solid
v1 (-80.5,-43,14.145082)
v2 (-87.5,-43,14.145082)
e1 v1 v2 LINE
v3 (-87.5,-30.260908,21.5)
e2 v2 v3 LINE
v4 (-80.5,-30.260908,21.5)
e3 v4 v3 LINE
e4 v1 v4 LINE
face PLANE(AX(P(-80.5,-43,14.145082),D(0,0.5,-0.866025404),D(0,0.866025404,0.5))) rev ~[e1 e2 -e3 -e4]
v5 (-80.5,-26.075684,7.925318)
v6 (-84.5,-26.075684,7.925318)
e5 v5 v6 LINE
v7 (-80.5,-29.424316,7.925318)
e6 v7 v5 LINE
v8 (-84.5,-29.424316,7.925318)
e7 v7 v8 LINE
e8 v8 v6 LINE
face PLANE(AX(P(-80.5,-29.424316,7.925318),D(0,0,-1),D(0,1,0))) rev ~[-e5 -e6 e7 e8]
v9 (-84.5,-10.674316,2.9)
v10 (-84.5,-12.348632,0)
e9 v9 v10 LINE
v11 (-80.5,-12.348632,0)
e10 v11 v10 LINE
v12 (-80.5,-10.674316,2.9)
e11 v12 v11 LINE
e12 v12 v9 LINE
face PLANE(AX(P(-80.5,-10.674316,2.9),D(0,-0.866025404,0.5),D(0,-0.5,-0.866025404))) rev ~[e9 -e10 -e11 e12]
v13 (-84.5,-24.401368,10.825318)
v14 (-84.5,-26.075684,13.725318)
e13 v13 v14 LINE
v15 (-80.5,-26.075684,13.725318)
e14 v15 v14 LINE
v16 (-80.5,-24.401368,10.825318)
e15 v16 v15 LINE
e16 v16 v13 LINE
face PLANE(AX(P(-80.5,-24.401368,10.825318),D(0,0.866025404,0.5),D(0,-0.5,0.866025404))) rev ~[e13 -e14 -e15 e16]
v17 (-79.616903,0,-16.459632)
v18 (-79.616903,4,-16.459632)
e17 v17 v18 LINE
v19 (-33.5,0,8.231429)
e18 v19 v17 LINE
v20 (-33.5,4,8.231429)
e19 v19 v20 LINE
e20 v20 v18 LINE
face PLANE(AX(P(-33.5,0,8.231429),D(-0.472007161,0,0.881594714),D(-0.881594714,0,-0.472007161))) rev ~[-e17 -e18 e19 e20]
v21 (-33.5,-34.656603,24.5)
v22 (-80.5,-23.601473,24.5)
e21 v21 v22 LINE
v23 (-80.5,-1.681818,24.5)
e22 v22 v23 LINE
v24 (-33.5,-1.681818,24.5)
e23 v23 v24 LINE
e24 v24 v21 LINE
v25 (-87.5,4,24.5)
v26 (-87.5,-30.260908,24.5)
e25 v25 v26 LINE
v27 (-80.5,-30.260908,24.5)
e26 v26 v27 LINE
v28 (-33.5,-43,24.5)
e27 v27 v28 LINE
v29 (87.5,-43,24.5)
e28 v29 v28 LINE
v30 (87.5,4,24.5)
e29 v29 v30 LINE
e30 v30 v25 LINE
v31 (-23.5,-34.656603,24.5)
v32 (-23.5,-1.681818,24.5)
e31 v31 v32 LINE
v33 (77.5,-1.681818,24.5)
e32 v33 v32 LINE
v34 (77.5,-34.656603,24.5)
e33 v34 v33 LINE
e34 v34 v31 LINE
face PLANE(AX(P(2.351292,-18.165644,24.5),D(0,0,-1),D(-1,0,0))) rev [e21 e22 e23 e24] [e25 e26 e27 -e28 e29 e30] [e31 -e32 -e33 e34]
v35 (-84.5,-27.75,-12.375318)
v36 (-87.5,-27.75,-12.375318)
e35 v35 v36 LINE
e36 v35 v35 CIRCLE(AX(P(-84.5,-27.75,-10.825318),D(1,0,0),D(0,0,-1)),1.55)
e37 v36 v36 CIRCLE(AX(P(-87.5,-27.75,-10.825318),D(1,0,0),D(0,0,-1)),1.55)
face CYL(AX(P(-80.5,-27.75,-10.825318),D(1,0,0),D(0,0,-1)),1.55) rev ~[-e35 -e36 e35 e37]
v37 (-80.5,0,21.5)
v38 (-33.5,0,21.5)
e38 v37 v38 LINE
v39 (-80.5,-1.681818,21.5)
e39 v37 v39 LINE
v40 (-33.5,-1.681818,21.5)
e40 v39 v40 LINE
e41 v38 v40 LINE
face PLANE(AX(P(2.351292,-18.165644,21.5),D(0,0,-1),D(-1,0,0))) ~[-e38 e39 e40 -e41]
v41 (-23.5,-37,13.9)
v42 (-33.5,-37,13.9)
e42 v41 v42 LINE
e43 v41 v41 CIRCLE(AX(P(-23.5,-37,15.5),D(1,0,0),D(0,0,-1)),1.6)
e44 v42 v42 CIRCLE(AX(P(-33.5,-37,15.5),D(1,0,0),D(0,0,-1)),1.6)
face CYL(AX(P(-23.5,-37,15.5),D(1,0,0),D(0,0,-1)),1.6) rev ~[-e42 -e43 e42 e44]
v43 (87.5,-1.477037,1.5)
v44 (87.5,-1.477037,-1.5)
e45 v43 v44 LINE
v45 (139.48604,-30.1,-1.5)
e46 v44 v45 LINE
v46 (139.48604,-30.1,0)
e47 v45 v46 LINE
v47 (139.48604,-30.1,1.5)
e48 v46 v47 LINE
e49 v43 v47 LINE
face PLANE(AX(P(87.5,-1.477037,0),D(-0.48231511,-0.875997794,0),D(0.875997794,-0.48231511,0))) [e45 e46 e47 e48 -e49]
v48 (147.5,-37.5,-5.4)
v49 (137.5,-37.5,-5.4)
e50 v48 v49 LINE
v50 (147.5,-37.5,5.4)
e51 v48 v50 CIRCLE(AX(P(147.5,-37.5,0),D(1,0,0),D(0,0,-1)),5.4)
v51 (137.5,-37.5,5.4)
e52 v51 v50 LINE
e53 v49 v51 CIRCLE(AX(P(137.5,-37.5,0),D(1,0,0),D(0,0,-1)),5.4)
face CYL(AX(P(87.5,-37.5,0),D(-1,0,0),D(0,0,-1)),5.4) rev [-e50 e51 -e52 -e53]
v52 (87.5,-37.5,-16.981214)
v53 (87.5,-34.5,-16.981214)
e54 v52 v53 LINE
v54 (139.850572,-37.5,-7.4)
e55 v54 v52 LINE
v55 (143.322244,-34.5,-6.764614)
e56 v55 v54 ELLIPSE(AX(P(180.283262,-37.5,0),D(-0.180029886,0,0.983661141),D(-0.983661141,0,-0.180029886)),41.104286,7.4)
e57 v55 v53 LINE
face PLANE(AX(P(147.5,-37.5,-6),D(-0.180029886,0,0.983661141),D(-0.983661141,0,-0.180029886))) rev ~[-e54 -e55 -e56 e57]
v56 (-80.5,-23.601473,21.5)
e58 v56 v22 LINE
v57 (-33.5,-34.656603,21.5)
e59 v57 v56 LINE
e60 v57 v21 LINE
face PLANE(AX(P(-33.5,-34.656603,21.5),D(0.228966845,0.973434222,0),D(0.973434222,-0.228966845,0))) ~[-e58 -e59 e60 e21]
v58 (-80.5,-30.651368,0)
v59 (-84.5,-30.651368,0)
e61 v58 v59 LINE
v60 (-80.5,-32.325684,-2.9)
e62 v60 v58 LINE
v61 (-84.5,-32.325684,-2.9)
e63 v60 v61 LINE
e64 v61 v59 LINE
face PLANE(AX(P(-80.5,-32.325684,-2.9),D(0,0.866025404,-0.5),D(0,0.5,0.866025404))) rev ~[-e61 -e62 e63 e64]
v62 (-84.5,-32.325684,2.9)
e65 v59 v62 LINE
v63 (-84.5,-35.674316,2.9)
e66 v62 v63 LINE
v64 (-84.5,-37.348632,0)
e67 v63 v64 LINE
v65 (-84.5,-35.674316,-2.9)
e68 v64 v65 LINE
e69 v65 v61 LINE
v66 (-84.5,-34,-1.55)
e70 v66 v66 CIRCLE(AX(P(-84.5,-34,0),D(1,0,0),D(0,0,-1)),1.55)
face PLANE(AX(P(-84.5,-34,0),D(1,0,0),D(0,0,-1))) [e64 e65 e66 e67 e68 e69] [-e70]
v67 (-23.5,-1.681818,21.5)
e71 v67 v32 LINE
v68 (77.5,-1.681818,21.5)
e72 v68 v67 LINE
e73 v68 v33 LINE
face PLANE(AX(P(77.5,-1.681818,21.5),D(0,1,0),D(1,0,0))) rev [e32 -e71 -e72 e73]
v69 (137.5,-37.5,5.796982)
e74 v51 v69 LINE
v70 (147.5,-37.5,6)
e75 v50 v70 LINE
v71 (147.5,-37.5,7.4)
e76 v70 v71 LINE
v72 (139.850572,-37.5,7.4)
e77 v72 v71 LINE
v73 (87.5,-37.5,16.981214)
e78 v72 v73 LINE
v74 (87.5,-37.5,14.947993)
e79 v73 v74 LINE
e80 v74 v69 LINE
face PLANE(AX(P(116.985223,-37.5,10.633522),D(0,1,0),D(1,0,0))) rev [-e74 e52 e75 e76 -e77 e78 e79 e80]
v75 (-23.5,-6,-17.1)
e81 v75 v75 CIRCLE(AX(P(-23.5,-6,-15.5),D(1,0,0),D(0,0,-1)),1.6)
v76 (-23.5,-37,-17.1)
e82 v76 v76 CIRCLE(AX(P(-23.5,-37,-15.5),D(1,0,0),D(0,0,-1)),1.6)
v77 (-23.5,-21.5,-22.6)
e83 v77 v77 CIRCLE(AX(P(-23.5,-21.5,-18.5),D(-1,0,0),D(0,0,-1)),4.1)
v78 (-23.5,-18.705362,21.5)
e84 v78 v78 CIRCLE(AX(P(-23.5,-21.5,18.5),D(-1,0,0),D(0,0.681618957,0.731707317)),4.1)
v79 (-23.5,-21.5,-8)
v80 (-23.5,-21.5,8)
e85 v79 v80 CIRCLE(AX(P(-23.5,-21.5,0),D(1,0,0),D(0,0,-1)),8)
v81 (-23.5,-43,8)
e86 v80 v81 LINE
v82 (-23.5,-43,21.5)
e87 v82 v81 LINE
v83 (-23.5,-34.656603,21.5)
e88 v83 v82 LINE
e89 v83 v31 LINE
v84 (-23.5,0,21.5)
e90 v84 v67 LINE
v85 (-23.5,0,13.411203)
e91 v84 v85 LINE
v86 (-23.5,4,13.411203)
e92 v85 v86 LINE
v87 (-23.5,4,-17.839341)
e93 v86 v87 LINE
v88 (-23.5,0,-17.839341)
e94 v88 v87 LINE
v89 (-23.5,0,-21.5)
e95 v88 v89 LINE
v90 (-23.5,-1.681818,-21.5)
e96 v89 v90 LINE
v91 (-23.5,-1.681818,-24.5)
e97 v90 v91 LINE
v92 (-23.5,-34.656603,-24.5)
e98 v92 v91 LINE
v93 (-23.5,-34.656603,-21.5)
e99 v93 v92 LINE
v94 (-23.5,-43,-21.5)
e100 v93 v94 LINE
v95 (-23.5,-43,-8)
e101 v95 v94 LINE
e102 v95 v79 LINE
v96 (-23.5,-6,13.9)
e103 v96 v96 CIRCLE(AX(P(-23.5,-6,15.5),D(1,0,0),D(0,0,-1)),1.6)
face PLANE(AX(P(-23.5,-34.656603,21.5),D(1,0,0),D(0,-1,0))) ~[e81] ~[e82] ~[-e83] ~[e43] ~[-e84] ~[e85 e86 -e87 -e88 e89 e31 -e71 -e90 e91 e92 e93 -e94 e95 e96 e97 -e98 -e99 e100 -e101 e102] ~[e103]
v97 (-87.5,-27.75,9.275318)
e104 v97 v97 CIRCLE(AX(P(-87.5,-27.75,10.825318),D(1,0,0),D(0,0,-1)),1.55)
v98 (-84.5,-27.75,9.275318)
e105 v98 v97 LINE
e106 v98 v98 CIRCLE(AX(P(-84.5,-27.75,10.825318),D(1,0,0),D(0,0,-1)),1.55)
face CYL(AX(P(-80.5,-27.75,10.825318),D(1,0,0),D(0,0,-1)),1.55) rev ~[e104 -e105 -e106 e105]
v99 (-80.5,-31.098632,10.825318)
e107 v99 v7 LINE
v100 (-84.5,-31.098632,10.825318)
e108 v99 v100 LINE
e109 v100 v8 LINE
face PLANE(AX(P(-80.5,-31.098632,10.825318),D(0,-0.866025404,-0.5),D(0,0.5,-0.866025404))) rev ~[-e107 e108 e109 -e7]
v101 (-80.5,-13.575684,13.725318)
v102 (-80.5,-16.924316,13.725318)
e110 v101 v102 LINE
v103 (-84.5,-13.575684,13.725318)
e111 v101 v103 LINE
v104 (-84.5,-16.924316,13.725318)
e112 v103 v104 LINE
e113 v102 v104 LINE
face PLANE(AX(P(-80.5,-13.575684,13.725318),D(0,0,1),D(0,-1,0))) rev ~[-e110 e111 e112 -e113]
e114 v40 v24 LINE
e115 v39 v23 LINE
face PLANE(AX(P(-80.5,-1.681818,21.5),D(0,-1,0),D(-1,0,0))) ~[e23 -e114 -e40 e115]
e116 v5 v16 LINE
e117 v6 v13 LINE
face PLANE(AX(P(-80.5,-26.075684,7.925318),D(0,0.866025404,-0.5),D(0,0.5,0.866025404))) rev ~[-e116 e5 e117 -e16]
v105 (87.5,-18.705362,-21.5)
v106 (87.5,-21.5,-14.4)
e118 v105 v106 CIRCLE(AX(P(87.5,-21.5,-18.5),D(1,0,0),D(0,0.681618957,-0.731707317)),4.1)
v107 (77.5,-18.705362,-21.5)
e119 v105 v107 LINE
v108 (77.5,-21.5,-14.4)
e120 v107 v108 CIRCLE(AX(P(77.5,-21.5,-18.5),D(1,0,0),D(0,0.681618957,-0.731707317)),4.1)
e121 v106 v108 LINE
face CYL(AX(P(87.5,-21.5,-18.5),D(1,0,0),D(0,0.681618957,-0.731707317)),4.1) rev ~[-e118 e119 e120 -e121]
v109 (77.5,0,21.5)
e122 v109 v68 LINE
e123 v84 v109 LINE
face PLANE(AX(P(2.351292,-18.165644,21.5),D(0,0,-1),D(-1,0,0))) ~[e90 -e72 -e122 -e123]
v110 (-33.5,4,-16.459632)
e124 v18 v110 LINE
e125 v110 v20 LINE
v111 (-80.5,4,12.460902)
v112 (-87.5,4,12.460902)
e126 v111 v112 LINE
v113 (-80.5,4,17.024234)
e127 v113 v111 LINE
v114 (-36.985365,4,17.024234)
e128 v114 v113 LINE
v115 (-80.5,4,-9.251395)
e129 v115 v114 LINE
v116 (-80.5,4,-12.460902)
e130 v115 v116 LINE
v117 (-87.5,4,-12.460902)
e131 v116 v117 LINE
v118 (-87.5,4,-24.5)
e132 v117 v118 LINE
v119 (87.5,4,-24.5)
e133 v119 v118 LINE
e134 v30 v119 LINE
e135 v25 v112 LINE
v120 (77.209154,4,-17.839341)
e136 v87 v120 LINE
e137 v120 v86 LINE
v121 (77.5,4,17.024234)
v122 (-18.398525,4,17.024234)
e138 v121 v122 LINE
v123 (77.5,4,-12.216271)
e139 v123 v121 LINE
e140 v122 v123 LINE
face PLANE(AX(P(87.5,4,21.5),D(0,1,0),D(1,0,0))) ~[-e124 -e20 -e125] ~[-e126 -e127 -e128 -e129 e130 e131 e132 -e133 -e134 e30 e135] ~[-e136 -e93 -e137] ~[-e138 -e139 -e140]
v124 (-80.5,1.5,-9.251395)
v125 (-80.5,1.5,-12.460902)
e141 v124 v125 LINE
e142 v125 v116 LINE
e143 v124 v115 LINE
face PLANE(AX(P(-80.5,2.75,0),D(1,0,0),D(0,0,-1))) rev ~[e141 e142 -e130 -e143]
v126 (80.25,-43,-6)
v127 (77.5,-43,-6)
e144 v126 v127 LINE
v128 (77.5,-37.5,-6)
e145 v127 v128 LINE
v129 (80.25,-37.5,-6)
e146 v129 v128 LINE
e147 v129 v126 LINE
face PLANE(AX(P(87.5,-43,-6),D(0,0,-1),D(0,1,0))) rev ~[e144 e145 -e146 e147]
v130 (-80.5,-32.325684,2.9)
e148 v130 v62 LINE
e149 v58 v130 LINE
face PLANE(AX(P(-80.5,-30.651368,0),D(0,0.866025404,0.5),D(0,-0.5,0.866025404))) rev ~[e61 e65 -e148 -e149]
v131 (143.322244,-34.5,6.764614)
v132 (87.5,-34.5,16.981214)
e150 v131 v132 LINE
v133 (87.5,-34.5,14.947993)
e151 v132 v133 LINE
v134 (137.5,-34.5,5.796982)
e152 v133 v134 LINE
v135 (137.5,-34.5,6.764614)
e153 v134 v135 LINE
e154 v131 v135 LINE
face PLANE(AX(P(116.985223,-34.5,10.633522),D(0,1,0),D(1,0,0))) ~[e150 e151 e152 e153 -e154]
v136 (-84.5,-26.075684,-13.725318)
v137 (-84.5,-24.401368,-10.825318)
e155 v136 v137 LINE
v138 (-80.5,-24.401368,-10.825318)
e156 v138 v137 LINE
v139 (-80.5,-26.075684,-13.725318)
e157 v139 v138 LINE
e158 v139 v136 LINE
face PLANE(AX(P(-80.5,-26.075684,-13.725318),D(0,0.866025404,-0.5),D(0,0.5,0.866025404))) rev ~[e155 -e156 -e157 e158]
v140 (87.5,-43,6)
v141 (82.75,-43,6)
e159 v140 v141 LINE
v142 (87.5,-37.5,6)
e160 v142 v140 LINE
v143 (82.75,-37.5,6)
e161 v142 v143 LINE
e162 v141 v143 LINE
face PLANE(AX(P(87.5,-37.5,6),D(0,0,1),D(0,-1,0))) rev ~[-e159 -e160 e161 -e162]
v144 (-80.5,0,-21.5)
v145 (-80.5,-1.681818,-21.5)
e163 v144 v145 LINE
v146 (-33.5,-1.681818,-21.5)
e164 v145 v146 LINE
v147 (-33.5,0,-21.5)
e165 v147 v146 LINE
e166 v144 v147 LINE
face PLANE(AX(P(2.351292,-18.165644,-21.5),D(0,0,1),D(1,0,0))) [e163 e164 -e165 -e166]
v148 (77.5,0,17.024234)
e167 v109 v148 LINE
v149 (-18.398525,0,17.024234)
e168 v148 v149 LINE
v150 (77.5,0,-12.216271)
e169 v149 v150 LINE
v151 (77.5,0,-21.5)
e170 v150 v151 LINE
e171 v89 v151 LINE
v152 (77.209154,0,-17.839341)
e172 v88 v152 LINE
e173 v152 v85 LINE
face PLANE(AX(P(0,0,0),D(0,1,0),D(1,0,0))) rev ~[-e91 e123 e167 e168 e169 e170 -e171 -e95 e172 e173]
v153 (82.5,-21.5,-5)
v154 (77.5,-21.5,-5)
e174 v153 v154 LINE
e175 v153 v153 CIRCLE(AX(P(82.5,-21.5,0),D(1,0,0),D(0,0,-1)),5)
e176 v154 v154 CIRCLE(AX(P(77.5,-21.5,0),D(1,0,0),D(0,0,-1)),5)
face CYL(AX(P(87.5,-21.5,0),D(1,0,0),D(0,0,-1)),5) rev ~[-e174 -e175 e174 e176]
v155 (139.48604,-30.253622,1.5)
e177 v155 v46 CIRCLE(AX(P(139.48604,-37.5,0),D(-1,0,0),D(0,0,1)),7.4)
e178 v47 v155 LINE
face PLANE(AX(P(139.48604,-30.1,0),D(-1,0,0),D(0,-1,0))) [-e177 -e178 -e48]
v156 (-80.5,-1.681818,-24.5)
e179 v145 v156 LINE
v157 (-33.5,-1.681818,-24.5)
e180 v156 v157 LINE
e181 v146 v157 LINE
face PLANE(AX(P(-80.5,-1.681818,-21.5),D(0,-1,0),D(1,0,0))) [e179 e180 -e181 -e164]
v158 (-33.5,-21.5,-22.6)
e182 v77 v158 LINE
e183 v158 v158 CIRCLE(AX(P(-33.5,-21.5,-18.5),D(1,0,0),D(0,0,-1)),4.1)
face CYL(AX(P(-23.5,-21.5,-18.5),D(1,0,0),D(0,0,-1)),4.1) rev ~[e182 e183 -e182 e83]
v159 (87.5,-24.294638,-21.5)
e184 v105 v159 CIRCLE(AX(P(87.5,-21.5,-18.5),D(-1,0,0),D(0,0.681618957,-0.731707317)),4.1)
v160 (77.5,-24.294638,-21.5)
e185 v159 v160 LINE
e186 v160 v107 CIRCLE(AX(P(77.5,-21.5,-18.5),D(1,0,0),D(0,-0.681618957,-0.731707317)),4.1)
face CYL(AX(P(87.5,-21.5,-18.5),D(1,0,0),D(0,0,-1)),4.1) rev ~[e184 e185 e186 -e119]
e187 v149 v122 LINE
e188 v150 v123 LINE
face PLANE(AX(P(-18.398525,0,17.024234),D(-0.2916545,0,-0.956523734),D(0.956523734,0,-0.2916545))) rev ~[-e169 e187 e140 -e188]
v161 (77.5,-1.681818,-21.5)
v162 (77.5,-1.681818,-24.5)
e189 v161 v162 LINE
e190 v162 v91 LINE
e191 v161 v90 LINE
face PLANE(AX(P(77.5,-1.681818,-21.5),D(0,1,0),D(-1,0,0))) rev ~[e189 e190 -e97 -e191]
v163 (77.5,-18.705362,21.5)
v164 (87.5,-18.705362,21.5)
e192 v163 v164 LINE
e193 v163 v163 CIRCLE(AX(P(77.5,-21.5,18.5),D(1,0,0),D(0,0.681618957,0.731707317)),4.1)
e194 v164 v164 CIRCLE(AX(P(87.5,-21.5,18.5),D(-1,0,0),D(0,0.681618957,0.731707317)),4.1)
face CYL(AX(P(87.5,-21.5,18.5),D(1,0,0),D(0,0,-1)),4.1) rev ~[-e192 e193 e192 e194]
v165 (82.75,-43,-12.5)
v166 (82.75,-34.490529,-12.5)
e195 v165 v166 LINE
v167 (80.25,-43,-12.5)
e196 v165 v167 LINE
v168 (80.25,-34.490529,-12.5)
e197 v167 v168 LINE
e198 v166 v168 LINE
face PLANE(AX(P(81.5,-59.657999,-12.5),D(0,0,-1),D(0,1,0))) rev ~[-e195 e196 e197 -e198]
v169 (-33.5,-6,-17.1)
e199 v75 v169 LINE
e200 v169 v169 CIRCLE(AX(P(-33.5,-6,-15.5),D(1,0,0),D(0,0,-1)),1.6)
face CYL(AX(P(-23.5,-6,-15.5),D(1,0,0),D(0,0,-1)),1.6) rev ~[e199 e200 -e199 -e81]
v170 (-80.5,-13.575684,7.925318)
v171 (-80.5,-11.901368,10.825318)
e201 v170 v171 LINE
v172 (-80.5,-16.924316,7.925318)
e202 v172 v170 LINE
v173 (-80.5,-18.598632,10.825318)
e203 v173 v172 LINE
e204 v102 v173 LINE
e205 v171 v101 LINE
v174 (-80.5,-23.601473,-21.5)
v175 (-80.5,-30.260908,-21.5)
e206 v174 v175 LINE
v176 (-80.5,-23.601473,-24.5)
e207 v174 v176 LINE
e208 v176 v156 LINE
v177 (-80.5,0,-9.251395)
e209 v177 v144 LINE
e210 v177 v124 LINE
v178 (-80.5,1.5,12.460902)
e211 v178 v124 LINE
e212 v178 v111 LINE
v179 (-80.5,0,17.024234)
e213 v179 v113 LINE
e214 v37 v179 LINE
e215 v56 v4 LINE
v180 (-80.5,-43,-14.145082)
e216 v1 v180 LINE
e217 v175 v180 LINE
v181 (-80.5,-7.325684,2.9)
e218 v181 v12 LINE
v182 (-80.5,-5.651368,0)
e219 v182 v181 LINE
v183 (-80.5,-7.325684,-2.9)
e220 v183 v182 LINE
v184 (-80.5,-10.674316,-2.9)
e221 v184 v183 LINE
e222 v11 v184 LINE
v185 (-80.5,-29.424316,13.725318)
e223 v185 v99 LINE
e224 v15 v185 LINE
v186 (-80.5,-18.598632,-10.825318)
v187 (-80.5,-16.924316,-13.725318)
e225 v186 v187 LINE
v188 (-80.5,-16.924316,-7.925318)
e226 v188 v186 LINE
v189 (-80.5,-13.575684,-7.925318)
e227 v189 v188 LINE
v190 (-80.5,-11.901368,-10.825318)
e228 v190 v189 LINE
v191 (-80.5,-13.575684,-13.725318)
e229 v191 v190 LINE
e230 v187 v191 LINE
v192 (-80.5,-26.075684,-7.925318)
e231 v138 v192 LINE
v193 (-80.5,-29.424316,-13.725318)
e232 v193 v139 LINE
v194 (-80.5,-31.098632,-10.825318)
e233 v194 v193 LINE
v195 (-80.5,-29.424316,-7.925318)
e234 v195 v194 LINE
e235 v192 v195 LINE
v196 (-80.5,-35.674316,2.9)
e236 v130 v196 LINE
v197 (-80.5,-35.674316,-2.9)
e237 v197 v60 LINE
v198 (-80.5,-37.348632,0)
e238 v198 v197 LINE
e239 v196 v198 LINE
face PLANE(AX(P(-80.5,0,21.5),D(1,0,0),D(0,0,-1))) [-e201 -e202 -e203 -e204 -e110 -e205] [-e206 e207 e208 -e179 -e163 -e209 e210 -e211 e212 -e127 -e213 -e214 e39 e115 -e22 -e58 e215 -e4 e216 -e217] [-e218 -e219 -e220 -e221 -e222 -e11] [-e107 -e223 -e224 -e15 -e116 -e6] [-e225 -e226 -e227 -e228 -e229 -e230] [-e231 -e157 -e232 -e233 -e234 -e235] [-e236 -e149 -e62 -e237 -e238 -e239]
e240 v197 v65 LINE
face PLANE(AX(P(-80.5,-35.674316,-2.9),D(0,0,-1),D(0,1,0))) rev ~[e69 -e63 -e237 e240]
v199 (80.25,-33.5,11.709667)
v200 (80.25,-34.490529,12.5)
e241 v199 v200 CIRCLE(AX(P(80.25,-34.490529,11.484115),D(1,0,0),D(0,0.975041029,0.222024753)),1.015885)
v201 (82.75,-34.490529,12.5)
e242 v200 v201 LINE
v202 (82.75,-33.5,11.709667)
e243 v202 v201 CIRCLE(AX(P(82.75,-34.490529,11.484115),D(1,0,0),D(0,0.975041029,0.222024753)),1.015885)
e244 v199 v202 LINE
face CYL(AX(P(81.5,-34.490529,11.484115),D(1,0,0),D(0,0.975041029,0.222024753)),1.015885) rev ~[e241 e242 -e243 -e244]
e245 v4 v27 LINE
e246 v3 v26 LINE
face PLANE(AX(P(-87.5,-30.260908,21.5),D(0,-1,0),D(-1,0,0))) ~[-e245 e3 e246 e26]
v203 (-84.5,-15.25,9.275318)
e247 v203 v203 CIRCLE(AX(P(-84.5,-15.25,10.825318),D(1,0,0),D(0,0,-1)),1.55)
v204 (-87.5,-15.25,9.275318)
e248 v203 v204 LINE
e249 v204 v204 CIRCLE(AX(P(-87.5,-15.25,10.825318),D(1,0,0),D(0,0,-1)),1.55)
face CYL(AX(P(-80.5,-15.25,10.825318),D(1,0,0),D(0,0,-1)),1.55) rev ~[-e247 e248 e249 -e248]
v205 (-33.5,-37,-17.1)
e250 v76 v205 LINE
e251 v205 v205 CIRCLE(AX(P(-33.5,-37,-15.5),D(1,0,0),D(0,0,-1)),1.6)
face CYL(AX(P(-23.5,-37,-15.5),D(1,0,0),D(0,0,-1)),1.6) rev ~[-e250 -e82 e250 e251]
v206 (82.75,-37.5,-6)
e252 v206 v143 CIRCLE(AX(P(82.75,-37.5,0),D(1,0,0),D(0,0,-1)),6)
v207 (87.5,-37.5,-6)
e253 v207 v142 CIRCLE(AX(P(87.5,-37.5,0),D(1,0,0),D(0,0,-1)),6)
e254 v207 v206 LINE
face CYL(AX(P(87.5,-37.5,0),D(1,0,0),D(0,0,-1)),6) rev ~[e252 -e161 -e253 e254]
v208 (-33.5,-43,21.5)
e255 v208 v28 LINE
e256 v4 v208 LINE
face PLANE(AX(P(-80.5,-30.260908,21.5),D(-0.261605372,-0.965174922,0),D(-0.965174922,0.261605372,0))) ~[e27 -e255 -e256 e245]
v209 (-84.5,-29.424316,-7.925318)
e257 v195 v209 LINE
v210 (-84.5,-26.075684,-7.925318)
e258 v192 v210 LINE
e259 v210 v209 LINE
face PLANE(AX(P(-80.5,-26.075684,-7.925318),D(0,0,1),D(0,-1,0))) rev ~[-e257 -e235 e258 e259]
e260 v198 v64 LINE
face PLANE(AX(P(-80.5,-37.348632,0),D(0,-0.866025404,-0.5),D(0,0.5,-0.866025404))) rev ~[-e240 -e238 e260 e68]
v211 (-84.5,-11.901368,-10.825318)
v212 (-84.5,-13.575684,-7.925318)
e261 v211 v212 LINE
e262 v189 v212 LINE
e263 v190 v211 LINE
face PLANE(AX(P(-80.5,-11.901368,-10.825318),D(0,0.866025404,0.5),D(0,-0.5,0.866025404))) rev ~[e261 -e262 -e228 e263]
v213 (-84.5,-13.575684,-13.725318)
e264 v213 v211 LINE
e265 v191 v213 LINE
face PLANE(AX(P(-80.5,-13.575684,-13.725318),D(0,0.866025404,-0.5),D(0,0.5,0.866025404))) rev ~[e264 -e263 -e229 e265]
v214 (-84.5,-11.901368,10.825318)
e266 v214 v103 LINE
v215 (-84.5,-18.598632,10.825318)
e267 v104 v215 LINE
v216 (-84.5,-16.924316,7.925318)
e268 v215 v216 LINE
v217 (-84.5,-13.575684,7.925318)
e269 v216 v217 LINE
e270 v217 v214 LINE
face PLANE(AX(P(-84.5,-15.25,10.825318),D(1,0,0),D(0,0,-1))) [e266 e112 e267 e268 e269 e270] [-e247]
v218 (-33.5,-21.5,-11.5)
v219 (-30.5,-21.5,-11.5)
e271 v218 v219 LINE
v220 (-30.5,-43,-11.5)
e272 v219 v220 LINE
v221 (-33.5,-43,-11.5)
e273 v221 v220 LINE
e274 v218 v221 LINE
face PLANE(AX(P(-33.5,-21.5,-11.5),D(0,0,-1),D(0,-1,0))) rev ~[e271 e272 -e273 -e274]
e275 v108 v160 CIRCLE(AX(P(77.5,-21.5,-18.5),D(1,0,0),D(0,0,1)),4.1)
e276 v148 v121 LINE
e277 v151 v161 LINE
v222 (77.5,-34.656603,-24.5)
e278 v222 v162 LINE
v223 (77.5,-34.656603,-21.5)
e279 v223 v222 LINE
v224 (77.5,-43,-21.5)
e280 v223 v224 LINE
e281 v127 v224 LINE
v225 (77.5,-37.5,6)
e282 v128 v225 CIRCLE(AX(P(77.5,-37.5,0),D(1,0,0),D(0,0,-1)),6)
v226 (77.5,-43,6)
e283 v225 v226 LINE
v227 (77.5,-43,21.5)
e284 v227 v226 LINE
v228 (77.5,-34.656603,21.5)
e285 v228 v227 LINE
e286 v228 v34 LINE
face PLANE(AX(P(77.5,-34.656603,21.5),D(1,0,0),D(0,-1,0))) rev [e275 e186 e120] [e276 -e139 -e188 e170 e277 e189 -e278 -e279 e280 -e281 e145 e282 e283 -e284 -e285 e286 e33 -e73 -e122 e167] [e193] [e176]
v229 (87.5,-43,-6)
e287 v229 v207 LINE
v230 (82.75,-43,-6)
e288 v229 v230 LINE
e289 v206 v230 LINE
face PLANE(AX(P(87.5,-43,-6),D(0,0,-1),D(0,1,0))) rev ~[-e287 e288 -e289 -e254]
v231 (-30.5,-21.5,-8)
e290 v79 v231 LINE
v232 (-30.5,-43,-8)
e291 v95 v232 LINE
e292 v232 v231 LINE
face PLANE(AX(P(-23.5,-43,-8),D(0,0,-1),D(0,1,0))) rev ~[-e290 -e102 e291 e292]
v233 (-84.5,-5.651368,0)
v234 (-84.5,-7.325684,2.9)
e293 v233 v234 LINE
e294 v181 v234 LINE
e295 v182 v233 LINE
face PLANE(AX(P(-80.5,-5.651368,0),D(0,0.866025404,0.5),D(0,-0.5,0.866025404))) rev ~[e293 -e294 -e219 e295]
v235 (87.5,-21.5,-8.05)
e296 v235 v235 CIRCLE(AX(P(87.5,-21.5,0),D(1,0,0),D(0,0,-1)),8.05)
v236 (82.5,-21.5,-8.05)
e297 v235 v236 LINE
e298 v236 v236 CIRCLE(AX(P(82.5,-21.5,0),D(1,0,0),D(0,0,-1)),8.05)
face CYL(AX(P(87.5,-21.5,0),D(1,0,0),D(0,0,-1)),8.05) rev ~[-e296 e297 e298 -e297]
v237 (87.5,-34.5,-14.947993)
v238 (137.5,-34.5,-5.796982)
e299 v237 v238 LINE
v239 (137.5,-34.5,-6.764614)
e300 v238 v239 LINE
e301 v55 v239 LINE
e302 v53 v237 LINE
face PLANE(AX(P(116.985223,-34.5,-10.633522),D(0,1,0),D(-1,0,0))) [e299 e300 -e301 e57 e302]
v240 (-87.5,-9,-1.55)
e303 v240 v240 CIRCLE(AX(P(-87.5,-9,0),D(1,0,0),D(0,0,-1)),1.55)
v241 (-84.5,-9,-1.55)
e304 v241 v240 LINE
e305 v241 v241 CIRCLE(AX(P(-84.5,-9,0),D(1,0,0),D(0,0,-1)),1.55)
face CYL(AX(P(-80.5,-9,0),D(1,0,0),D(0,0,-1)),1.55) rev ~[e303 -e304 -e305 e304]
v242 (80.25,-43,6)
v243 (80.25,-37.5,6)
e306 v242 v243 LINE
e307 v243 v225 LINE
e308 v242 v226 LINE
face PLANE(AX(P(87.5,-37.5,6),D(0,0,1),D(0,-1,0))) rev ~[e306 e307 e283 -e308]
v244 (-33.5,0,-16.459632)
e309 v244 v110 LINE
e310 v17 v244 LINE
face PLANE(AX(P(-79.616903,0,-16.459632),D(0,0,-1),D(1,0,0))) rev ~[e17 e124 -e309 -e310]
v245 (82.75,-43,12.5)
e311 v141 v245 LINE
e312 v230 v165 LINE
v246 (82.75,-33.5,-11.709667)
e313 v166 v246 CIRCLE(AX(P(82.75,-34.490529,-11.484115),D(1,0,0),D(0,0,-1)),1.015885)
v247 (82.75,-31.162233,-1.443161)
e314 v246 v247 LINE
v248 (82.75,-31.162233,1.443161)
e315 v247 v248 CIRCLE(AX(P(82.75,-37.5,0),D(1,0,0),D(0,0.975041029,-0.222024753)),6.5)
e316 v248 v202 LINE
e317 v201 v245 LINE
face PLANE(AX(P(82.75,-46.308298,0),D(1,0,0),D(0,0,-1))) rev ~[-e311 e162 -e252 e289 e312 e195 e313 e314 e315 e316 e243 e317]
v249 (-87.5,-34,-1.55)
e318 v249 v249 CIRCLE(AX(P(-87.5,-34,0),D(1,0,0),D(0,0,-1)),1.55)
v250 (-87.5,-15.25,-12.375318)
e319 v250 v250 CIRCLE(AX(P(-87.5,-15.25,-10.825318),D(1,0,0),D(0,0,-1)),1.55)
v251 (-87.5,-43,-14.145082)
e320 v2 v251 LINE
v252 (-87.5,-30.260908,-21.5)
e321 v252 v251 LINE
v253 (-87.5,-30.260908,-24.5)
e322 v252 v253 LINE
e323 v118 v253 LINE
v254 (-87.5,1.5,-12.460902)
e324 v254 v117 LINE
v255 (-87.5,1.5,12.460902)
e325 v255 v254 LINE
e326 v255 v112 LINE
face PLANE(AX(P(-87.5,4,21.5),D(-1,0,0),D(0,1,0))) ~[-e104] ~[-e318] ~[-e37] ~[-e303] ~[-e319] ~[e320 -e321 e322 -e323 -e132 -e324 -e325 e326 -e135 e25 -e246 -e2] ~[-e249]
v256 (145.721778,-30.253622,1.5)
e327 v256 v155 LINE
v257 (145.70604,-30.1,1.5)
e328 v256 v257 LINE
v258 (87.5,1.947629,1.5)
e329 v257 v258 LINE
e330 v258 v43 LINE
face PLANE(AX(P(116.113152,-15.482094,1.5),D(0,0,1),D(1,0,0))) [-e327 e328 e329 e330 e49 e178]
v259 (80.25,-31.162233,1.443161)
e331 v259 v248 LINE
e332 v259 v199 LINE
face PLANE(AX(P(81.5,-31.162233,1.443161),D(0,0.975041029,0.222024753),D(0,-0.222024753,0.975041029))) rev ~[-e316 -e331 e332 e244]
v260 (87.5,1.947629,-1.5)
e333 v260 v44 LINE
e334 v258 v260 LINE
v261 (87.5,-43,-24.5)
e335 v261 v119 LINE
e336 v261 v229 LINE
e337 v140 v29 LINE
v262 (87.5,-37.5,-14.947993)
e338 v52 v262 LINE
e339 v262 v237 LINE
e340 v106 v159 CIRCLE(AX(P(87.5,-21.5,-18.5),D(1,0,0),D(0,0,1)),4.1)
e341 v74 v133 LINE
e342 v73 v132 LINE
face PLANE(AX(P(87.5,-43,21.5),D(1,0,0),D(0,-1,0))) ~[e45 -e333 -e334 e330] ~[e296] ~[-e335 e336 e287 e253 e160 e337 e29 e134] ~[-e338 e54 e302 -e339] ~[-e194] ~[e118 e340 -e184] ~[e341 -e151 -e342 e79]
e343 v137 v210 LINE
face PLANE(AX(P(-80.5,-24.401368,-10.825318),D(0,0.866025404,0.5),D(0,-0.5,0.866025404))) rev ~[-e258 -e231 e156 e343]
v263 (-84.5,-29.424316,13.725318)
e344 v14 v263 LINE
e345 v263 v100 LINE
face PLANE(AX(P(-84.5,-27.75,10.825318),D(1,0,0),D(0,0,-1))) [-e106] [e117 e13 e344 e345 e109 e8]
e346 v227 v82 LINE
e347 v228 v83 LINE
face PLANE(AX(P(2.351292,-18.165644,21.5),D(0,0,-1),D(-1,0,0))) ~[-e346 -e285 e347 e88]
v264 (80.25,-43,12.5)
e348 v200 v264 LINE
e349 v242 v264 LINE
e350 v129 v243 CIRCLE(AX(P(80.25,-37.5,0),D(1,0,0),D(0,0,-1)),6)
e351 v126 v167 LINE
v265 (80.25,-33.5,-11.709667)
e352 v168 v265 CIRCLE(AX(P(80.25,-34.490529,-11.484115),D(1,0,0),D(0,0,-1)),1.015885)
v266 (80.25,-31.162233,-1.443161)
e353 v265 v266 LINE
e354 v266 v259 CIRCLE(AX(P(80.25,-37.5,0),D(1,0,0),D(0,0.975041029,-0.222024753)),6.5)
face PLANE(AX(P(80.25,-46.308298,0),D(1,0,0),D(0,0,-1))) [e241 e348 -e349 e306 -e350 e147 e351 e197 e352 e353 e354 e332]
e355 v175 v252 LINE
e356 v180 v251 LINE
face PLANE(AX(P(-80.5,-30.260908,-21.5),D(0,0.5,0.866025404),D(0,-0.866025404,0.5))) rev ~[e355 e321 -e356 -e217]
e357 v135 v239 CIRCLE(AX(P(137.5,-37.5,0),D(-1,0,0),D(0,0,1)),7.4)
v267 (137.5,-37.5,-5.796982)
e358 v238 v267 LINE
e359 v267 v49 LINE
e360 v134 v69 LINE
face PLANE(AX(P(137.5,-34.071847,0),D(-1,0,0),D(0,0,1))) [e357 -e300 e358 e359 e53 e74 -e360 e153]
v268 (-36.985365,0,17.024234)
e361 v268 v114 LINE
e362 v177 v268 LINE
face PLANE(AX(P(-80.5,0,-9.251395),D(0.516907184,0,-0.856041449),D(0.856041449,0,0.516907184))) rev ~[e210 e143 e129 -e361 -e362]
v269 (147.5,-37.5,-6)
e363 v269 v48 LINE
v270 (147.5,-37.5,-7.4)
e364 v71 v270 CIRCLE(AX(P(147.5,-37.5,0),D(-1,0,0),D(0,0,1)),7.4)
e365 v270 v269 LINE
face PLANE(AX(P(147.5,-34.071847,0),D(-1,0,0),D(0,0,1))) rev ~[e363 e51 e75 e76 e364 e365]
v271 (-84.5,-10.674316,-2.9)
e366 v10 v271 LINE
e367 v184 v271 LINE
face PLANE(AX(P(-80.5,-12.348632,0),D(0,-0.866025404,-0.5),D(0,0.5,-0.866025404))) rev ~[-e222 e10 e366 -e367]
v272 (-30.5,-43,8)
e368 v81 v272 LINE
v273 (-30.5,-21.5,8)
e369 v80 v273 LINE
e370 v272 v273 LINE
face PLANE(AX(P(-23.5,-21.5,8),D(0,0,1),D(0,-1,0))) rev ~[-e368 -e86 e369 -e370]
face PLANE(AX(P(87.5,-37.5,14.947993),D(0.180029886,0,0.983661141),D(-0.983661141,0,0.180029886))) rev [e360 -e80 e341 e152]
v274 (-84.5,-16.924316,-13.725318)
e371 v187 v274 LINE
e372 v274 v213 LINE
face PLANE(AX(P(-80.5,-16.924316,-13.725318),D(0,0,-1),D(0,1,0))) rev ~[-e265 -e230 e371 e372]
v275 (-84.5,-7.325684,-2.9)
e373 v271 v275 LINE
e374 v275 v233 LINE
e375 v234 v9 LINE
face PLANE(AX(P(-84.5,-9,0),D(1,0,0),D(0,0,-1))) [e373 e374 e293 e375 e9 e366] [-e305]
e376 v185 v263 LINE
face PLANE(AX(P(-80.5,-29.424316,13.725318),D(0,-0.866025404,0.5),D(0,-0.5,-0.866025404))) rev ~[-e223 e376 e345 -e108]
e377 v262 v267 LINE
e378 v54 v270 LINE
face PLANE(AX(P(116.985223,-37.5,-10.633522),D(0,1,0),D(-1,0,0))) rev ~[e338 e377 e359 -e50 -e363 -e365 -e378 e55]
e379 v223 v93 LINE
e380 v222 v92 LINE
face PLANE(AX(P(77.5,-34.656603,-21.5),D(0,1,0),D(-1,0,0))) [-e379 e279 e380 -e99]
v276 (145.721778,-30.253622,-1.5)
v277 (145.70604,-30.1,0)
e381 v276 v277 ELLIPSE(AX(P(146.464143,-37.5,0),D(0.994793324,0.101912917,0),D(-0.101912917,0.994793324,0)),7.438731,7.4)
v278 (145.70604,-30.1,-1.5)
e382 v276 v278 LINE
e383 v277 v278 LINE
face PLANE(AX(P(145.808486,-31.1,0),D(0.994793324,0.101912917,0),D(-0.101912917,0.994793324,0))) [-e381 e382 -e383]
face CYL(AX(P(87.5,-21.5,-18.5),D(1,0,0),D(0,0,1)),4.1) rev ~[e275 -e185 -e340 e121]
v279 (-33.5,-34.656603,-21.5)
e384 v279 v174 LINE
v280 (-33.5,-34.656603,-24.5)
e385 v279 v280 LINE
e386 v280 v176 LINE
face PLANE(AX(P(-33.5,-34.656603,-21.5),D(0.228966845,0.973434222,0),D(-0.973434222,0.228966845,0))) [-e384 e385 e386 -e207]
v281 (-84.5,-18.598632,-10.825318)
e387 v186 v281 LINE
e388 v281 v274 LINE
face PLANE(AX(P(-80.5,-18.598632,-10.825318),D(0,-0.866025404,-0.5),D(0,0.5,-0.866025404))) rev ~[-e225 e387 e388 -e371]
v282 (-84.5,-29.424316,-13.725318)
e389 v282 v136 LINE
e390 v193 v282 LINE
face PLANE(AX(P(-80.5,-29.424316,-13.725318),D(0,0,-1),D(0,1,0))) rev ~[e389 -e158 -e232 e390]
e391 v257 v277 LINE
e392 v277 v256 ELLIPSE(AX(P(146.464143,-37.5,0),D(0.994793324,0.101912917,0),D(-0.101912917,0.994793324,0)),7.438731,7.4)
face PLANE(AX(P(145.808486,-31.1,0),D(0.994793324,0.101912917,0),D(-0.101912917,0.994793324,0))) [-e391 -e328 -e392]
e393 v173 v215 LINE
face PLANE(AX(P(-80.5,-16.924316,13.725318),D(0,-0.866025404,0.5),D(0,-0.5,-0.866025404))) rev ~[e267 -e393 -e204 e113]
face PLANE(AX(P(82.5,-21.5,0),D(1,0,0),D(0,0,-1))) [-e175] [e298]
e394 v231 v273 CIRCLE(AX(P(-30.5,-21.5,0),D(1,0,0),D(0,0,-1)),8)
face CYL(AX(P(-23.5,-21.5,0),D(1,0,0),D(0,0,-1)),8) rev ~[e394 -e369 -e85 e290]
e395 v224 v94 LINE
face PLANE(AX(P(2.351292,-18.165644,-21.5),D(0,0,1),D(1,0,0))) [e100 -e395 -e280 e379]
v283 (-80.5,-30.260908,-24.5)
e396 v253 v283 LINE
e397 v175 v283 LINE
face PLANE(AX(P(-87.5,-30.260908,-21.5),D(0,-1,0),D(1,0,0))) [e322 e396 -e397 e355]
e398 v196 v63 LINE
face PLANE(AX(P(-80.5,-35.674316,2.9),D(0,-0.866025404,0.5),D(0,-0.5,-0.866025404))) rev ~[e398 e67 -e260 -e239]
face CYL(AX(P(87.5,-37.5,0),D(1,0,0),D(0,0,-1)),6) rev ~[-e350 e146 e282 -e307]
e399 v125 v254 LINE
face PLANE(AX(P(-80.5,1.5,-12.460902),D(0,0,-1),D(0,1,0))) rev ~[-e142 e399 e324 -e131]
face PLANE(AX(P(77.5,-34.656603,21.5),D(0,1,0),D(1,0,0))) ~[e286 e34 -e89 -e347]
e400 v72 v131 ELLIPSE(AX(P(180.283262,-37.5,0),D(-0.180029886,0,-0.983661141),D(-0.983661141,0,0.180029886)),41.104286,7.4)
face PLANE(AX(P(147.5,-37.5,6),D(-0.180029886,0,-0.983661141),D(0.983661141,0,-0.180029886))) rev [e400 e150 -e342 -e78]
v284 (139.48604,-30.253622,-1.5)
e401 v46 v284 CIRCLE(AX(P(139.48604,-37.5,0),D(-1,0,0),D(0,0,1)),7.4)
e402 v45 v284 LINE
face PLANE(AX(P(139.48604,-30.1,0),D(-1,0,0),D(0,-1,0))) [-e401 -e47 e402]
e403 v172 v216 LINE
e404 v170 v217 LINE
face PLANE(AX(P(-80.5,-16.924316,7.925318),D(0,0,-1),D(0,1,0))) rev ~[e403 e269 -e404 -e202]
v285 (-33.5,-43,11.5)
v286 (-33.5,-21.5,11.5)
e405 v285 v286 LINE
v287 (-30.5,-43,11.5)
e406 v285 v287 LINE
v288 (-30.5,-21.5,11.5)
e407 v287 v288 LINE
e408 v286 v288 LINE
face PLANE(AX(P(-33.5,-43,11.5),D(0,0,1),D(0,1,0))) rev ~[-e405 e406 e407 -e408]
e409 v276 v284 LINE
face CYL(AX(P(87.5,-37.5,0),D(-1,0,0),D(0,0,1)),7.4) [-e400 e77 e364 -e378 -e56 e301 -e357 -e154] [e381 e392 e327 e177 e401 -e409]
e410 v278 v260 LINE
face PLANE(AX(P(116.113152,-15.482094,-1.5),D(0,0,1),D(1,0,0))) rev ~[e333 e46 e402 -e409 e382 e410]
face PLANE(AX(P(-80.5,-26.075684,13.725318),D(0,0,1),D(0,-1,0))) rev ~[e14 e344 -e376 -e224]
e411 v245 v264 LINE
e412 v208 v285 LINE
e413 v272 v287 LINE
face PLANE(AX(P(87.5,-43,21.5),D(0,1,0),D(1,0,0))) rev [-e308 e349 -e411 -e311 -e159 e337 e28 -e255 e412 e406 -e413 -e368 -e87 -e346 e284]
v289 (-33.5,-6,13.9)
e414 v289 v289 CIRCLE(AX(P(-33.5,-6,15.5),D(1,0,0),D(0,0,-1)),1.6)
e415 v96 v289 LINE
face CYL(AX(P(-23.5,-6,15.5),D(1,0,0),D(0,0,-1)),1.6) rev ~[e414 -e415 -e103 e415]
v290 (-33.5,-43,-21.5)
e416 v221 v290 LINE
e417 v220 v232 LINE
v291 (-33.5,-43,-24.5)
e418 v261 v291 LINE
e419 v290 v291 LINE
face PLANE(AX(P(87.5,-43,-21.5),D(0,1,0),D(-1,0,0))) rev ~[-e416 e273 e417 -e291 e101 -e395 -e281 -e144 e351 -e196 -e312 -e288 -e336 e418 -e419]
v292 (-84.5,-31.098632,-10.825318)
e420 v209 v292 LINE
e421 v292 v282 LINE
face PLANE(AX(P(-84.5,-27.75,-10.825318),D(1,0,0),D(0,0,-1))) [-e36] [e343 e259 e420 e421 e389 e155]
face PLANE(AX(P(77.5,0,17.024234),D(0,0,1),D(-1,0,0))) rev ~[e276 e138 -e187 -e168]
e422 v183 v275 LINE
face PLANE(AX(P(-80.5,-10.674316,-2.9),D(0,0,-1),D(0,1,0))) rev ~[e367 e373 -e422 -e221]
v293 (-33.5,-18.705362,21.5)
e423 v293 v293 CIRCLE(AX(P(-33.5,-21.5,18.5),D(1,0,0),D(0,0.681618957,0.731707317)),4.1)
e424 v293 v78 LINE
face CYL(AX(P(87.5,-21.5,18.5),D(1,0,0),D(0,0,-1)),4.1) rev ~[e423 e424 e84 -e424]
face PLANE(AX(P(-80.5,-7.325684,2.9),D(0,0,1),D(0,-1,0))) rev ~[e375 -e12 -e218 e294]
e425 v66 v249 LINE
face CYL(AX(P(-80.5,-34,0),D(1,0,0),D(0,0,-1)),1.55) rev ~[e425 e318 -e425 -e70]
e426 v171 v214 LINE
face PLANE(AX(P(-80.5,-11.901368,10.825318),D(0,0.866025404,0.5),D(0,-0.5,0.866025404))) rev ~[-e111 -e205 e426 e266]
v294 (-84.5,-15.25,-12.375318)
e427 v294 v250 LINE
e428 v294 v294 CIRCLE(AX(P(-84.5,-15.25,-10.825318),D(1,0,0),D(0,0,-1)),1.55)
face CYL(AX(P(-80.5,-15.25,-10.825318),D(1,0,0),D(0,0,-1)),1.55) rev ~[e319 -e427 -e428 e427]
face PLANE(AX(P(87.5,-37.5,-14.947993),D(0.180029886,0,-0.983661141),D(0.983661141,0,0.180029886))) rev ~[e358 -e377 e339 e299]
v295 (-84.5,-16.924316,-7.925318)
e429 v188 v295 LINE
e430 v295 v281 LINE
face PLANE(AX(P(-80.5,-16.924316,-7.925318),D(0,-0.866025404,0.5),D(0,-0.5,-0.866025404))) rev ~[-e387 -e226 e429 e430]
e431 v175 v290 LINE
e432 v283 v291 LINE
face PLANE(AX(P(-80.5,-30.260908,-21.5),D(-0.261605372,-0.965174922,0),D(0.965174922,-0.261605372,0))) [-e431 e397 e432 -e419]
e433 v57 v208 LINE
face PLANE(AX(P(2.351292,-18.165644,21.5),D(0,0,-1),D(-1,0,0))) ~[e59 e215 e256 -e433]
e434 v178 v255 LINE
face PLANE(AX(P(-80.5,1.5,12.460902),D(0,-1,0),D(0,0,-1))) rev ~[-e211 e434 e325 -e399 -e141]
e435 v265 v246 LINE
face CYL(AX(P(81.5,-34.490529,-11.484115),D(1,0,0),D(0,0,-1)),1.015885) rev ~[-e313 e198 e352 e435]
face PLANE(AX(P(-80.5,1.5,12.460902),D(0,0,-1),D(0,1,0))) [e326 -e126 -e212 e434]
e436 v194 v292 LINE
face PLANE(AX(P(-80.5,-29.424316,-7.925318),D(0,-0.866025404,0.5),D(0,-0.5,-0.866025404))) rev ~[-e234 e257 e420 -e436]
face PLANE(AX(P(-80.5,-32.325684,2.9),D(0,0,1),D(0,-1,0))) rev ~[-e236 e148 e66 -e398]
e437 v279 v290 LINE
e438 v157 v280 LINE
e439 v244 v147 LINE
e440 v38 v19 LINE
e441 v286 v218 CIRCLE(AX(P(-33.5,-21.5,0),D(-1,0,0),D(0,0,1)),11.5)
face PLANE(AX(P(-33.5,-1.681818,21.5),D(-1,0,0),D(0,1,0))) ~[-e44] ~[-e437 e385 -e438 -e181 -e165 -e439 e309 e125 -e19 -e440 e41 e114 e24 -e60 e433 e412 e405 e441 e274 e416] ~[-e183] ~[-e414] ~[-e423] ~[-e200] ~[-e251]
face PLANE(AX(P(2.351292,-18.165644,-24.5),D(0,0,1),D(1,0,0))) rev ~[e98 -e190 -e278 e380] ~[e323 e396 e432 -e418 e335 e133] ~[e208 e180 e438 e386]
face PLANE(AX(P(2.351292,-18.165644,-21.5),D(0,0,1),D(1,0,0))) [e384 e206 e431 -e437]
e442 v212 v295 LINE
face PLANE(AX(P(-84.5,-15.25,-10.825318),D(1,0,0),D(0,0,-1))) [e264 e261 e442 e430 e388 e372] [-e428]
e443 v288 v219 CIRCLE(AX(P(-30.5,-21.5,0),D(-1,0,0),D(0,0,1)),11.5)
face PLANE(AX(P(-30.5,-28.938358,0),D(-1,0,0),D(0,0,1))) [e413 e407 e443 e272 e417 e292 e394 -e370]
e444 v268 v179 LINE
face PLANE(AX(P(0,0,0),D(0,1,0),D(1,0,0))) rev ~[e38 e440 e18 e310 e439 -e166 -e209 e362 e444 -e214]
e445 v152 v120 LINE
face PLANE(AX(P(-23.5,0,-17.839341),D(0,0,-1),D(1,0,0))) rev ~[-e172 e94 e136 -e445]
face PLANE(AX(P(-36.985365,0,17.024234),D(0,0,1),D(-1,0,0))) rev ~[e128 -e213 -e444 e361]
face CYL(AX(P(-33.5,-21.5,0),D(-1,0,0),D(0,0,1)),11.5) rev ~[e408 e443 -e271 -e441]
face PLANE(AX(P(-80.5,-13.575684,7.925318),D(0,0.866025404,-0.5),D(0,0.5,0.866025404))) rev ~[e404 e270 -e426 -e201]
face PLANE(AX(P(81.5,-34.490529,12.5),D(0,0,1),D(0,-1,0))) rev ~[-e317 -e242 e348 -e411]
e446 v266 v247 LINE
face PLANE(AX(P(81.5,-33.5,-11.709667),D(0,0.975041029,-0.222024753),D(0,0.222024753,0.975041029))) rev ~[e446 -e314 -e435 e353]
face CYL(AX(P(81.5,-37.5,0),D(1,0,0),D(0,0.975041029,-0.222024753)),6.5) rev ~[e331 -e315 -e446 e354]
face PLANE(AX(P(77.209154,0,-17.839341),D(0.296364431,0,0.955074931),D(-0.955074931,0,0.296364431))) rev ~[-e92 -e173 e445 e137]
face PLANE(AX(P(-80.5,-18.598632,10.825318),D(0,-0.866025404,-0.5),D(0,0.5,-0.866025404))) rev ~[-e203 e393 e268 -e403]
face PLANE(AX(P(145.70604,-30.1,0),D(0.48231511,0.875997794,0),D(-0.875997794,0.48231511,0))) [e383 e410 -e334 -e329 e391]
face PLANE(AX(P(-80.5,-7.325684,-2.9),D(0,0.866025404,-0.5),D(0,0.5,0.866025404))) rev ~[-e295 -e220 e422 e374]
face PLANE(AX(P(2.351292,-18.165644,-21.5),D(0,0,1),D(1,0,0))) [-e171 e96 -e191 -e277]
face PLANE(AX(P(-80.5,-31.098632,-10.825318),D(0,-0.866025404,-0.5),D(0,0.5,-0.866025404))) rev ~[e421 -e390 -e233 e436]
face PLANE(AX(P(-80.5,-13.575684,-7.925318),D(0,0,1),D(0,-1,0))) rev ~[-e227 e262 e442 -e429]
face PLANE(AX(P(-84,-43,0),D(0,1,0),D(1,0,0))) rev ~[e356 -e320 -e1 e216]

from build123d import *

# Parameters (mm, degrees)
SKETCH1_W           = 175
SKETCH1_H           = 43
BOSS_EXTRUDE1_DEPTH = 4
SKETCH1_3_W         = 7
SKETCH1_3_H         = 43
SKETCH1_3_W_2       = 10
BOSS_EXTRUDE2_DEPTH = 43
SKETCH2_W           = 24.921803412
SKETCH2_H           = 2.5
SKETCH2_R           = 1.55
CUT_EXTRUDE1_DEPTH  = 43
SKETCH3_R           = 4.1
SKETCH3_R_2         = 1.6
CUT_EXTRUDE2_DEPTH  = 43
SKETCH4_R           = 4.1
SKETCH4_R_2         = 5
CUT_EXTRUDE3_DEPTH  = 43
SKETCH4_3_R         = 8.05
SKETCH4_3_R_2       = 5
CUT_EXTRUDE4_DEPTH  = 5
SKETCH6_W           = 101
SKETCH6_H           = 32.974785191
BOSS_EXTRUDE3_DEPTH = 3
CUT_EXTRUDE6_DEPTH  = 1.25
CUT_EXTRUDE7_DEPTH  = 3
CUT_EXTRUDE8_DEPTH  = 4
SKETCH4_4_R         = 4.1
CUT_EXTRUDE9_DEPTH  = 150
BOSS_EXTRUDE4_DEPTH = 60
CUT_EXTRUDE10_DEPTH = 50
BOSS_EXTRUDE5_DEPTH = 1.5
BOSS_EXTRUDE6_DEPTH = 3


with BuildPart() as part:
    # Sketch1 → Boss-Extrude1 (new body)
    with BuildSketch(Plane(origin=(0, 0, 0), x_dir=(1, 0, 0), z_dir=(0, 1, 0))):
        Rectangle(SKETCH1_W, SKETCH1_H)
        Polygon((-80.5, -17.02423389), (-80.5, 9.251394926), (-36.98536512, -17.02423389), align=None, mode=Mode.SUBTRACT)
        Polygon((-79.616903449, 16.459632181), (-33.5, 16.459632181), (-33.5, -8.231428571), align=None, mode=Mode.SUBTRACT)
        Polygon((-23.5, -13.411203118), (-23.5, 17.839340837), (77.209154002, 17.839340837), align=None, mode=Mode.SUBTRACT)
        Polygon((-18.39852542, -17.02423389), (77.5, 12.216270532), (77.5, -17.02423389), align=None, mode=Mode.SUBTRACT)
    extrude(amount=BOSS_EXTRUDE1_DEPTH)

    # Sketch1<3> → Boss-Extrude2 (add)
    with BuildSketch(Plane(origin=(0, 0, 0), x_dir=(1, 0, 0), z_dir=(0, 1, 0))):
        with Locations((-84, 0)):
            Rectangle(SKETCH1_3_W, SKETCH1_3_H)
        with Locations((-28.5, 0)):
            Rectangle(SKETCH1_3_W_2, SKETCH1_3_H)
        with Locations((82.5, 0)):
            Rectangle(SKETCH1_3_W_2, SKETCH1_3_H)
    extrude(amount=-BOSS_EXTRUDE2_DEPTH)

    # Sketch2 → Cut-Extrude1 (cut)
    with BuildSketch(Plane(origin=(-80.5, 0, 0), x_dir=(0, 0, -1), z_dir=(1, 0, 0))):
        Polygon((21.5, -43), (21.5, -30.260907637), (14.145081595, -43), align=None)
        Polygon((-21.5, -43), (-14.145081595, -43), (-21.5, -30.260907637), align=None)
        with Locations((0, 2.75)):
            Rectangle(SKETCH2_W, SKETCH2_H)
        with Locations((-10.825317547, -15.25)):
            Circle(SKETCH2_R)
        with Locations((0, -9)):
            Circle(SKETCH2_R)
        with Locations((10.825317547, -15.25)):
            Circle(SKETCH2_R)
        with Locations((10.825317547, -27.75)):
            Circle(SKETCH2_R)
        with Locations((0, -34)):
            Circle(SKETCH2_R)
        with Locations((-10.825317547, -27.75)):
            Circle(SKETCH2_R)
    extrude(amount=-CUT_EXTRUDE1_DEPTH, mode=Mode.SUBTRACT)

    # Sketch3 → Cut-Extrude2 (cut)
    with BuildSketch(Plane(origin=(-23.5, 0, 0), x_dir=(0, 0, -1), z_dir=(1, 0, 0))):
        with BuildLine():
            Line((-8, -43), (8, -43))
            Line((8, -43), (8, -21.5))
            ThreePointArc((8, -21.5), (0, -13.5), (-8, -21.5))
            Line((-8, -21.5), (-8, -43))
        make_face()
        with Locations((18.5, -21.5)):
            Circle(SKETCH3_R)
        with Locations((-18.5, -21.5)):
            Circle(SKETCH3_R)
        with Locations((15.5, -37)):
            Circle(SKETCH3_R_2)
        with Locations((15.5, -6)):
            Circle(SKETCH3_R_2)
        with Locations((-15.5, -6)):
            Circle(SKETCH3_R_2)
        with Locations((-15.5, -37)):
            Circle(SKETCH3_R_2)
    extrude(amount=-CUT_EXTRUDE2_DEPTH, mode=Mode.SUBTRACT)

    # Sketch4 → Cut-Extrude3 (cut)
    with BuildSketch(Plane(origin=(87.5, 0, 0), x_dir=(0, 0, -1), z_dir=(1, 0, 0))):
        with BuildLine():
            Line((-6, -43), (6, -43))
            Line((6, -43), (6, -37.5))
            ThreePointArc((6, -37.5), (0, -31.5), (-6, -37.5))
            Line((-6, -37.5), (-6, -43))
        make_face()
        with BuildLine():
            ThreePointArc((21.5, -18.705362278), (16.998334258, -17.684898429), (14.4, -21.5))
            ThreePointArc((14.4, -21.5), (16.998334258, -25.315101571), (21.5, -24.294637722))
            Line((21.5, -24.294637722), (21.5, -18.705362278))
        make_face()
        with Locations((-18.5, -21.5)):
            Circle(SKETCH4_R)
        with Locations((0, -21.5)):
            Circle(SKETCH4_R_2)
    extrude(amount=-CUT_EXTRUDE3_DEPTH, mode=Mode.SUBTRACT)

    # Sketch4<3> → Cut-Extrude4 (cut)
    with BuildSketch(Plane(origin=(87.5, 0, 0), x_dir=(0, 0, -1), z_dir=(1, 0, 0))):
        with Locations((0, -21.5)):
            Circle(SKETCH4_3_R)
        with Locations((0, -21.5)):
            Circle(SKETCH4_3_R_2, mode=Mode.SUBTRACT)
    extrude(amount=-CUT_EXTRUDE4_DEPTH, mode=Mode.SUBTRACT)

    # Sketch6 → Boss-Extrude3 (add)
    with BuildSketch(Plane(origin=(0, 0, -21.5), x_dir=(-1, 0, 0), z_dir=(0, 0, -1))):
        Polygon((87.5, -30.260907637), (80.5, -30.260907637), (33.5, -43), (23.5, -43), (-77.5, -43), (-87.5, -43), (-87.5, 4), (87.5, 4), align=None)
        with Locations((-27, -18.169210683)):
            Rectangle(SKETCH6_W, SKETCH6_H, mode=Mode.SUBTRACT)
        Polygon((80.5, -23.601473433), (80.5, -1.681818087), (33.5, -1.681818087), (33.5, -34.656603278), align=None, mode=Mode.SUBTRACT)
    boss_extrude3 = extrude(amount=BOSS_EXTRUDE3_DEPTH)

    # Mirror1: Boss-Extrude3 across plane
    add(boss_extrude3.mirror(Plane.XY))

    # Sketch7 → Cut-Extrude6 (cut, symmetric)
    with BuildSketch(Plane(origin=(81.5, 0, 0), x_dir=(0, 0, -1), z_dir=(1, 0, 0))):
        with BuildLine():
            ThreePointArc((12.5, -34.490529316), (12.278204733, -33.856933451), (11.709666808, -33.5))
            Line((11.709666808, -33.5), (1.443160895, -31.162233309))
            ThreePointArc((1.443160895, -31.162233309), (0, -31), (-1.443160895, -31.162233309))
            Line((-1.443160895, -31.162233309), (-11.709666808, -33.5))
            ThreePointArc((-11.709666808, -33.5), (-12.278204733, -33.856933451), (-12.5, -34.490529316))
            Line((-12.5, -34.490529316), (-12.5, -59.657999149))
            Line((-12.5, -59.657999149), (12.5, -59.657999149))
            Line((12.5, -59.657999149), (12.5, -34.490529316))
        make_face()
    extrude(amount=CUT_EXTRUDE6_DEPTH, both=True, mode=Mode.SUBTRACT)

    # Sketch8 → Cut-Extrude7 (cut)
    with BuildSketch(Plane.ZY.offset(33.5)):
        with BuildLine():
            Line((-8, -43), (-8, -29.761355821))
            ThreePointArc((-8, -29.761355821), (0, -33), (8, -29.761355821))
            Line((8, -29.761355821), (8, -43))
            Line((8, -43), (11.5, -43))
            Line((11.5, -43), (11.5, -21.5))
            ThreePointArc((11.5, -21.5), (0, -10), (-11.5, -21.5))
            Line((-11.5, -21.5), (-11.5, -43))
            Line((-11.5, -43), (-8, -43))
        make_face()
    extrude(amount=-CUT_EXTRUDE7_DEPTH, mode=Mode.SUBTRACT)

    # Sketch9 → Cut-Extrude8 (cut)
    with BuildSketch(Plane(origin=(-80.5, 0, 0), x_dir=(0, 0, -1), z_dir=(1, 0, 0))):
        Polygon((-2.9, -32.325684219), (-2.9, -35.674315781), (0, -37.348631561), (2.9, -35.674315781), (2.9, -32.325684219), (0, -30.651368439), align=None)
        Polygon((-10.825317547, -24.401368439), (-13.725317547, -26.075684219), (-13.725317547, -29.424315781), (-10.825317547, -31.098631561), (-7.925317547, -29.424315781), (-7.925317547, -26.075684219), align=None)
        Polygon((-10.825317547, -18.598631561), (-7.925317547, -16.924315781), (-7.925317547, -13.575684219), (-10.825317547, -11.901368439), (-13.725317547, -13.575684219), (-13.725317547, -16.924315781), align=None)
        Polygon((-2.9, -7.325684219), (-2.9, -10.674315781), (0, -12.348631561), (2.9, -10.674315781), (2.9, -7.325684219), (0, -5.651368439), align=None)
        Polygon((7.925317547, -13.575684219), (7.925317547, -16.924315781), (10.825317547, -18.598631561), (13.725317547, -16.924315781), (13.725317547, -13.575684219), (10.825317547, -11.901368439), align=None)
        Polygon((7.925317547, -26.075684219), (7.925317547, -29.424315781), (10.825317547, -31.098631561), (13.725317547, -29.424315781), (13.725317547, -26.075684219), (10.825317547, -24.401368439), align=None)
    extrude(amount=-CUT_EXTRUDE8_DEPTH, mode=Mode.SUBTRACT)

    # Sketch4<4> → Cut-Extrude9 (cut)
    with BuildSketch(Plane(origin=(87.5, 0, 0), x_dir=(0, 0, -1), z_dir=(1, 0, 0))):
        with Locations((18.5, -21.5)):
            Circle(SKETCH4_4_R)
        with Locations((-18.5, -21.5)):
            Circle(SKETCH4_4_R)
    extrude(amount=-CUT_EXTRUDE9_DEPTH, mode=Mode.SUBTRACT)

    # Sketch10 → Boss-Extrude4 (add)
    with BuildSketch(Plane(origin=(87.5, 0, 0), x_dir=(0, 0, -1), z_dir=(1, 0, 0))):
        with BuildLine():
            Line((7.4, -37.5), (5.4, -37.5))
            ThreePointArc((5.4, -37.5), (0, -32.1), (-5.4, -37.5))
            Line((-5.4, -37.5), (-7.4, -37.5))
            ThreePointArc((-7.4, -37.5), (0, -30.1), (7.4, -37.5))
        make_face()
    extrude(amount=BOSS_EXTRUDE4_DEPTH)

    # Sketch10<2> → Cut-Extrude10 (cut)
    with BuildSketch(Plane(origin=(87.5, 0, 0), x_dir=(0, 0, -1), z_dir=(1, 0, 0))):
        with BuildLine():
            Line((7.4, -37.5), (5.4, -37.5))
            ThreePointArc((5.4, -37.5), (0, -32.1), (-5.4, -37.5))
            Line((-5.4, -37.5), (-7.4, -37.5))
            ThreePointArc((-7.4, -37.5), (0, -30.1), (7.4, -37.5))
        make_face()
    extrude(amount=CUT_EXTRUDE10_DEPTH, mode=Mode.SUBTRACT)


with BuildPart() as cut_extrude10_piece_1:
    # of the separate pieces the step leaves, piece 1, a body of its own (cut_extrude10_pieces)
    add(part.part.solids().sort_by_distance((87.5, 4, -24.5))[0])



with BuildPart() as cut_extrude10_piece_2:
    # of the separate pieces the step leaves, piece 2, a body of its own (cut_extrude10_pieces)
    add(part.part.solids().sort_by_distance((137.5, -37.5, 5.4))[0])


with BuildPart() as cut_extrude10_piece_1_1:
    add(cut_extrude10_piece_1.part)

    add(cut_extrude10_piece_2.part)  # Boss-Extrude5 merges Cut-Extrude10 piece 2
    # Sketch12 → Boss-Extrude5 (add, symmetric)
    with BuildSketch(Plane.XY):
        Polygon((87.5, -1.477036856), (139.486039904, -30.1), (139.486039904, -31.1), (145.808486256, -31.1), (145.706039934, -30.1), (87.5, 1.947629303), align=None)
    extrude(amount=BOSS_EXTRUDE5_DEPTH, both=True)

    # Sketch13 → Boss-Extrude6 (add)
    with BuildSketch(Plane.XZ.offset(37.5)):
        Polygon((87.5, -16.981213653), (87.5, -14.94799315), (139.669059549, -5.4), (147.5, -6), align=None)
    boss_extrude6 = extrude(amount=-BOSS_EXTRUDE6_DEPTH)

    # Mirror2: Boss-Extrude6 across plane
    add(boss_extrude6.mirror(Plane.XY))


solid = cut_extrude10_piece_1_1.part
